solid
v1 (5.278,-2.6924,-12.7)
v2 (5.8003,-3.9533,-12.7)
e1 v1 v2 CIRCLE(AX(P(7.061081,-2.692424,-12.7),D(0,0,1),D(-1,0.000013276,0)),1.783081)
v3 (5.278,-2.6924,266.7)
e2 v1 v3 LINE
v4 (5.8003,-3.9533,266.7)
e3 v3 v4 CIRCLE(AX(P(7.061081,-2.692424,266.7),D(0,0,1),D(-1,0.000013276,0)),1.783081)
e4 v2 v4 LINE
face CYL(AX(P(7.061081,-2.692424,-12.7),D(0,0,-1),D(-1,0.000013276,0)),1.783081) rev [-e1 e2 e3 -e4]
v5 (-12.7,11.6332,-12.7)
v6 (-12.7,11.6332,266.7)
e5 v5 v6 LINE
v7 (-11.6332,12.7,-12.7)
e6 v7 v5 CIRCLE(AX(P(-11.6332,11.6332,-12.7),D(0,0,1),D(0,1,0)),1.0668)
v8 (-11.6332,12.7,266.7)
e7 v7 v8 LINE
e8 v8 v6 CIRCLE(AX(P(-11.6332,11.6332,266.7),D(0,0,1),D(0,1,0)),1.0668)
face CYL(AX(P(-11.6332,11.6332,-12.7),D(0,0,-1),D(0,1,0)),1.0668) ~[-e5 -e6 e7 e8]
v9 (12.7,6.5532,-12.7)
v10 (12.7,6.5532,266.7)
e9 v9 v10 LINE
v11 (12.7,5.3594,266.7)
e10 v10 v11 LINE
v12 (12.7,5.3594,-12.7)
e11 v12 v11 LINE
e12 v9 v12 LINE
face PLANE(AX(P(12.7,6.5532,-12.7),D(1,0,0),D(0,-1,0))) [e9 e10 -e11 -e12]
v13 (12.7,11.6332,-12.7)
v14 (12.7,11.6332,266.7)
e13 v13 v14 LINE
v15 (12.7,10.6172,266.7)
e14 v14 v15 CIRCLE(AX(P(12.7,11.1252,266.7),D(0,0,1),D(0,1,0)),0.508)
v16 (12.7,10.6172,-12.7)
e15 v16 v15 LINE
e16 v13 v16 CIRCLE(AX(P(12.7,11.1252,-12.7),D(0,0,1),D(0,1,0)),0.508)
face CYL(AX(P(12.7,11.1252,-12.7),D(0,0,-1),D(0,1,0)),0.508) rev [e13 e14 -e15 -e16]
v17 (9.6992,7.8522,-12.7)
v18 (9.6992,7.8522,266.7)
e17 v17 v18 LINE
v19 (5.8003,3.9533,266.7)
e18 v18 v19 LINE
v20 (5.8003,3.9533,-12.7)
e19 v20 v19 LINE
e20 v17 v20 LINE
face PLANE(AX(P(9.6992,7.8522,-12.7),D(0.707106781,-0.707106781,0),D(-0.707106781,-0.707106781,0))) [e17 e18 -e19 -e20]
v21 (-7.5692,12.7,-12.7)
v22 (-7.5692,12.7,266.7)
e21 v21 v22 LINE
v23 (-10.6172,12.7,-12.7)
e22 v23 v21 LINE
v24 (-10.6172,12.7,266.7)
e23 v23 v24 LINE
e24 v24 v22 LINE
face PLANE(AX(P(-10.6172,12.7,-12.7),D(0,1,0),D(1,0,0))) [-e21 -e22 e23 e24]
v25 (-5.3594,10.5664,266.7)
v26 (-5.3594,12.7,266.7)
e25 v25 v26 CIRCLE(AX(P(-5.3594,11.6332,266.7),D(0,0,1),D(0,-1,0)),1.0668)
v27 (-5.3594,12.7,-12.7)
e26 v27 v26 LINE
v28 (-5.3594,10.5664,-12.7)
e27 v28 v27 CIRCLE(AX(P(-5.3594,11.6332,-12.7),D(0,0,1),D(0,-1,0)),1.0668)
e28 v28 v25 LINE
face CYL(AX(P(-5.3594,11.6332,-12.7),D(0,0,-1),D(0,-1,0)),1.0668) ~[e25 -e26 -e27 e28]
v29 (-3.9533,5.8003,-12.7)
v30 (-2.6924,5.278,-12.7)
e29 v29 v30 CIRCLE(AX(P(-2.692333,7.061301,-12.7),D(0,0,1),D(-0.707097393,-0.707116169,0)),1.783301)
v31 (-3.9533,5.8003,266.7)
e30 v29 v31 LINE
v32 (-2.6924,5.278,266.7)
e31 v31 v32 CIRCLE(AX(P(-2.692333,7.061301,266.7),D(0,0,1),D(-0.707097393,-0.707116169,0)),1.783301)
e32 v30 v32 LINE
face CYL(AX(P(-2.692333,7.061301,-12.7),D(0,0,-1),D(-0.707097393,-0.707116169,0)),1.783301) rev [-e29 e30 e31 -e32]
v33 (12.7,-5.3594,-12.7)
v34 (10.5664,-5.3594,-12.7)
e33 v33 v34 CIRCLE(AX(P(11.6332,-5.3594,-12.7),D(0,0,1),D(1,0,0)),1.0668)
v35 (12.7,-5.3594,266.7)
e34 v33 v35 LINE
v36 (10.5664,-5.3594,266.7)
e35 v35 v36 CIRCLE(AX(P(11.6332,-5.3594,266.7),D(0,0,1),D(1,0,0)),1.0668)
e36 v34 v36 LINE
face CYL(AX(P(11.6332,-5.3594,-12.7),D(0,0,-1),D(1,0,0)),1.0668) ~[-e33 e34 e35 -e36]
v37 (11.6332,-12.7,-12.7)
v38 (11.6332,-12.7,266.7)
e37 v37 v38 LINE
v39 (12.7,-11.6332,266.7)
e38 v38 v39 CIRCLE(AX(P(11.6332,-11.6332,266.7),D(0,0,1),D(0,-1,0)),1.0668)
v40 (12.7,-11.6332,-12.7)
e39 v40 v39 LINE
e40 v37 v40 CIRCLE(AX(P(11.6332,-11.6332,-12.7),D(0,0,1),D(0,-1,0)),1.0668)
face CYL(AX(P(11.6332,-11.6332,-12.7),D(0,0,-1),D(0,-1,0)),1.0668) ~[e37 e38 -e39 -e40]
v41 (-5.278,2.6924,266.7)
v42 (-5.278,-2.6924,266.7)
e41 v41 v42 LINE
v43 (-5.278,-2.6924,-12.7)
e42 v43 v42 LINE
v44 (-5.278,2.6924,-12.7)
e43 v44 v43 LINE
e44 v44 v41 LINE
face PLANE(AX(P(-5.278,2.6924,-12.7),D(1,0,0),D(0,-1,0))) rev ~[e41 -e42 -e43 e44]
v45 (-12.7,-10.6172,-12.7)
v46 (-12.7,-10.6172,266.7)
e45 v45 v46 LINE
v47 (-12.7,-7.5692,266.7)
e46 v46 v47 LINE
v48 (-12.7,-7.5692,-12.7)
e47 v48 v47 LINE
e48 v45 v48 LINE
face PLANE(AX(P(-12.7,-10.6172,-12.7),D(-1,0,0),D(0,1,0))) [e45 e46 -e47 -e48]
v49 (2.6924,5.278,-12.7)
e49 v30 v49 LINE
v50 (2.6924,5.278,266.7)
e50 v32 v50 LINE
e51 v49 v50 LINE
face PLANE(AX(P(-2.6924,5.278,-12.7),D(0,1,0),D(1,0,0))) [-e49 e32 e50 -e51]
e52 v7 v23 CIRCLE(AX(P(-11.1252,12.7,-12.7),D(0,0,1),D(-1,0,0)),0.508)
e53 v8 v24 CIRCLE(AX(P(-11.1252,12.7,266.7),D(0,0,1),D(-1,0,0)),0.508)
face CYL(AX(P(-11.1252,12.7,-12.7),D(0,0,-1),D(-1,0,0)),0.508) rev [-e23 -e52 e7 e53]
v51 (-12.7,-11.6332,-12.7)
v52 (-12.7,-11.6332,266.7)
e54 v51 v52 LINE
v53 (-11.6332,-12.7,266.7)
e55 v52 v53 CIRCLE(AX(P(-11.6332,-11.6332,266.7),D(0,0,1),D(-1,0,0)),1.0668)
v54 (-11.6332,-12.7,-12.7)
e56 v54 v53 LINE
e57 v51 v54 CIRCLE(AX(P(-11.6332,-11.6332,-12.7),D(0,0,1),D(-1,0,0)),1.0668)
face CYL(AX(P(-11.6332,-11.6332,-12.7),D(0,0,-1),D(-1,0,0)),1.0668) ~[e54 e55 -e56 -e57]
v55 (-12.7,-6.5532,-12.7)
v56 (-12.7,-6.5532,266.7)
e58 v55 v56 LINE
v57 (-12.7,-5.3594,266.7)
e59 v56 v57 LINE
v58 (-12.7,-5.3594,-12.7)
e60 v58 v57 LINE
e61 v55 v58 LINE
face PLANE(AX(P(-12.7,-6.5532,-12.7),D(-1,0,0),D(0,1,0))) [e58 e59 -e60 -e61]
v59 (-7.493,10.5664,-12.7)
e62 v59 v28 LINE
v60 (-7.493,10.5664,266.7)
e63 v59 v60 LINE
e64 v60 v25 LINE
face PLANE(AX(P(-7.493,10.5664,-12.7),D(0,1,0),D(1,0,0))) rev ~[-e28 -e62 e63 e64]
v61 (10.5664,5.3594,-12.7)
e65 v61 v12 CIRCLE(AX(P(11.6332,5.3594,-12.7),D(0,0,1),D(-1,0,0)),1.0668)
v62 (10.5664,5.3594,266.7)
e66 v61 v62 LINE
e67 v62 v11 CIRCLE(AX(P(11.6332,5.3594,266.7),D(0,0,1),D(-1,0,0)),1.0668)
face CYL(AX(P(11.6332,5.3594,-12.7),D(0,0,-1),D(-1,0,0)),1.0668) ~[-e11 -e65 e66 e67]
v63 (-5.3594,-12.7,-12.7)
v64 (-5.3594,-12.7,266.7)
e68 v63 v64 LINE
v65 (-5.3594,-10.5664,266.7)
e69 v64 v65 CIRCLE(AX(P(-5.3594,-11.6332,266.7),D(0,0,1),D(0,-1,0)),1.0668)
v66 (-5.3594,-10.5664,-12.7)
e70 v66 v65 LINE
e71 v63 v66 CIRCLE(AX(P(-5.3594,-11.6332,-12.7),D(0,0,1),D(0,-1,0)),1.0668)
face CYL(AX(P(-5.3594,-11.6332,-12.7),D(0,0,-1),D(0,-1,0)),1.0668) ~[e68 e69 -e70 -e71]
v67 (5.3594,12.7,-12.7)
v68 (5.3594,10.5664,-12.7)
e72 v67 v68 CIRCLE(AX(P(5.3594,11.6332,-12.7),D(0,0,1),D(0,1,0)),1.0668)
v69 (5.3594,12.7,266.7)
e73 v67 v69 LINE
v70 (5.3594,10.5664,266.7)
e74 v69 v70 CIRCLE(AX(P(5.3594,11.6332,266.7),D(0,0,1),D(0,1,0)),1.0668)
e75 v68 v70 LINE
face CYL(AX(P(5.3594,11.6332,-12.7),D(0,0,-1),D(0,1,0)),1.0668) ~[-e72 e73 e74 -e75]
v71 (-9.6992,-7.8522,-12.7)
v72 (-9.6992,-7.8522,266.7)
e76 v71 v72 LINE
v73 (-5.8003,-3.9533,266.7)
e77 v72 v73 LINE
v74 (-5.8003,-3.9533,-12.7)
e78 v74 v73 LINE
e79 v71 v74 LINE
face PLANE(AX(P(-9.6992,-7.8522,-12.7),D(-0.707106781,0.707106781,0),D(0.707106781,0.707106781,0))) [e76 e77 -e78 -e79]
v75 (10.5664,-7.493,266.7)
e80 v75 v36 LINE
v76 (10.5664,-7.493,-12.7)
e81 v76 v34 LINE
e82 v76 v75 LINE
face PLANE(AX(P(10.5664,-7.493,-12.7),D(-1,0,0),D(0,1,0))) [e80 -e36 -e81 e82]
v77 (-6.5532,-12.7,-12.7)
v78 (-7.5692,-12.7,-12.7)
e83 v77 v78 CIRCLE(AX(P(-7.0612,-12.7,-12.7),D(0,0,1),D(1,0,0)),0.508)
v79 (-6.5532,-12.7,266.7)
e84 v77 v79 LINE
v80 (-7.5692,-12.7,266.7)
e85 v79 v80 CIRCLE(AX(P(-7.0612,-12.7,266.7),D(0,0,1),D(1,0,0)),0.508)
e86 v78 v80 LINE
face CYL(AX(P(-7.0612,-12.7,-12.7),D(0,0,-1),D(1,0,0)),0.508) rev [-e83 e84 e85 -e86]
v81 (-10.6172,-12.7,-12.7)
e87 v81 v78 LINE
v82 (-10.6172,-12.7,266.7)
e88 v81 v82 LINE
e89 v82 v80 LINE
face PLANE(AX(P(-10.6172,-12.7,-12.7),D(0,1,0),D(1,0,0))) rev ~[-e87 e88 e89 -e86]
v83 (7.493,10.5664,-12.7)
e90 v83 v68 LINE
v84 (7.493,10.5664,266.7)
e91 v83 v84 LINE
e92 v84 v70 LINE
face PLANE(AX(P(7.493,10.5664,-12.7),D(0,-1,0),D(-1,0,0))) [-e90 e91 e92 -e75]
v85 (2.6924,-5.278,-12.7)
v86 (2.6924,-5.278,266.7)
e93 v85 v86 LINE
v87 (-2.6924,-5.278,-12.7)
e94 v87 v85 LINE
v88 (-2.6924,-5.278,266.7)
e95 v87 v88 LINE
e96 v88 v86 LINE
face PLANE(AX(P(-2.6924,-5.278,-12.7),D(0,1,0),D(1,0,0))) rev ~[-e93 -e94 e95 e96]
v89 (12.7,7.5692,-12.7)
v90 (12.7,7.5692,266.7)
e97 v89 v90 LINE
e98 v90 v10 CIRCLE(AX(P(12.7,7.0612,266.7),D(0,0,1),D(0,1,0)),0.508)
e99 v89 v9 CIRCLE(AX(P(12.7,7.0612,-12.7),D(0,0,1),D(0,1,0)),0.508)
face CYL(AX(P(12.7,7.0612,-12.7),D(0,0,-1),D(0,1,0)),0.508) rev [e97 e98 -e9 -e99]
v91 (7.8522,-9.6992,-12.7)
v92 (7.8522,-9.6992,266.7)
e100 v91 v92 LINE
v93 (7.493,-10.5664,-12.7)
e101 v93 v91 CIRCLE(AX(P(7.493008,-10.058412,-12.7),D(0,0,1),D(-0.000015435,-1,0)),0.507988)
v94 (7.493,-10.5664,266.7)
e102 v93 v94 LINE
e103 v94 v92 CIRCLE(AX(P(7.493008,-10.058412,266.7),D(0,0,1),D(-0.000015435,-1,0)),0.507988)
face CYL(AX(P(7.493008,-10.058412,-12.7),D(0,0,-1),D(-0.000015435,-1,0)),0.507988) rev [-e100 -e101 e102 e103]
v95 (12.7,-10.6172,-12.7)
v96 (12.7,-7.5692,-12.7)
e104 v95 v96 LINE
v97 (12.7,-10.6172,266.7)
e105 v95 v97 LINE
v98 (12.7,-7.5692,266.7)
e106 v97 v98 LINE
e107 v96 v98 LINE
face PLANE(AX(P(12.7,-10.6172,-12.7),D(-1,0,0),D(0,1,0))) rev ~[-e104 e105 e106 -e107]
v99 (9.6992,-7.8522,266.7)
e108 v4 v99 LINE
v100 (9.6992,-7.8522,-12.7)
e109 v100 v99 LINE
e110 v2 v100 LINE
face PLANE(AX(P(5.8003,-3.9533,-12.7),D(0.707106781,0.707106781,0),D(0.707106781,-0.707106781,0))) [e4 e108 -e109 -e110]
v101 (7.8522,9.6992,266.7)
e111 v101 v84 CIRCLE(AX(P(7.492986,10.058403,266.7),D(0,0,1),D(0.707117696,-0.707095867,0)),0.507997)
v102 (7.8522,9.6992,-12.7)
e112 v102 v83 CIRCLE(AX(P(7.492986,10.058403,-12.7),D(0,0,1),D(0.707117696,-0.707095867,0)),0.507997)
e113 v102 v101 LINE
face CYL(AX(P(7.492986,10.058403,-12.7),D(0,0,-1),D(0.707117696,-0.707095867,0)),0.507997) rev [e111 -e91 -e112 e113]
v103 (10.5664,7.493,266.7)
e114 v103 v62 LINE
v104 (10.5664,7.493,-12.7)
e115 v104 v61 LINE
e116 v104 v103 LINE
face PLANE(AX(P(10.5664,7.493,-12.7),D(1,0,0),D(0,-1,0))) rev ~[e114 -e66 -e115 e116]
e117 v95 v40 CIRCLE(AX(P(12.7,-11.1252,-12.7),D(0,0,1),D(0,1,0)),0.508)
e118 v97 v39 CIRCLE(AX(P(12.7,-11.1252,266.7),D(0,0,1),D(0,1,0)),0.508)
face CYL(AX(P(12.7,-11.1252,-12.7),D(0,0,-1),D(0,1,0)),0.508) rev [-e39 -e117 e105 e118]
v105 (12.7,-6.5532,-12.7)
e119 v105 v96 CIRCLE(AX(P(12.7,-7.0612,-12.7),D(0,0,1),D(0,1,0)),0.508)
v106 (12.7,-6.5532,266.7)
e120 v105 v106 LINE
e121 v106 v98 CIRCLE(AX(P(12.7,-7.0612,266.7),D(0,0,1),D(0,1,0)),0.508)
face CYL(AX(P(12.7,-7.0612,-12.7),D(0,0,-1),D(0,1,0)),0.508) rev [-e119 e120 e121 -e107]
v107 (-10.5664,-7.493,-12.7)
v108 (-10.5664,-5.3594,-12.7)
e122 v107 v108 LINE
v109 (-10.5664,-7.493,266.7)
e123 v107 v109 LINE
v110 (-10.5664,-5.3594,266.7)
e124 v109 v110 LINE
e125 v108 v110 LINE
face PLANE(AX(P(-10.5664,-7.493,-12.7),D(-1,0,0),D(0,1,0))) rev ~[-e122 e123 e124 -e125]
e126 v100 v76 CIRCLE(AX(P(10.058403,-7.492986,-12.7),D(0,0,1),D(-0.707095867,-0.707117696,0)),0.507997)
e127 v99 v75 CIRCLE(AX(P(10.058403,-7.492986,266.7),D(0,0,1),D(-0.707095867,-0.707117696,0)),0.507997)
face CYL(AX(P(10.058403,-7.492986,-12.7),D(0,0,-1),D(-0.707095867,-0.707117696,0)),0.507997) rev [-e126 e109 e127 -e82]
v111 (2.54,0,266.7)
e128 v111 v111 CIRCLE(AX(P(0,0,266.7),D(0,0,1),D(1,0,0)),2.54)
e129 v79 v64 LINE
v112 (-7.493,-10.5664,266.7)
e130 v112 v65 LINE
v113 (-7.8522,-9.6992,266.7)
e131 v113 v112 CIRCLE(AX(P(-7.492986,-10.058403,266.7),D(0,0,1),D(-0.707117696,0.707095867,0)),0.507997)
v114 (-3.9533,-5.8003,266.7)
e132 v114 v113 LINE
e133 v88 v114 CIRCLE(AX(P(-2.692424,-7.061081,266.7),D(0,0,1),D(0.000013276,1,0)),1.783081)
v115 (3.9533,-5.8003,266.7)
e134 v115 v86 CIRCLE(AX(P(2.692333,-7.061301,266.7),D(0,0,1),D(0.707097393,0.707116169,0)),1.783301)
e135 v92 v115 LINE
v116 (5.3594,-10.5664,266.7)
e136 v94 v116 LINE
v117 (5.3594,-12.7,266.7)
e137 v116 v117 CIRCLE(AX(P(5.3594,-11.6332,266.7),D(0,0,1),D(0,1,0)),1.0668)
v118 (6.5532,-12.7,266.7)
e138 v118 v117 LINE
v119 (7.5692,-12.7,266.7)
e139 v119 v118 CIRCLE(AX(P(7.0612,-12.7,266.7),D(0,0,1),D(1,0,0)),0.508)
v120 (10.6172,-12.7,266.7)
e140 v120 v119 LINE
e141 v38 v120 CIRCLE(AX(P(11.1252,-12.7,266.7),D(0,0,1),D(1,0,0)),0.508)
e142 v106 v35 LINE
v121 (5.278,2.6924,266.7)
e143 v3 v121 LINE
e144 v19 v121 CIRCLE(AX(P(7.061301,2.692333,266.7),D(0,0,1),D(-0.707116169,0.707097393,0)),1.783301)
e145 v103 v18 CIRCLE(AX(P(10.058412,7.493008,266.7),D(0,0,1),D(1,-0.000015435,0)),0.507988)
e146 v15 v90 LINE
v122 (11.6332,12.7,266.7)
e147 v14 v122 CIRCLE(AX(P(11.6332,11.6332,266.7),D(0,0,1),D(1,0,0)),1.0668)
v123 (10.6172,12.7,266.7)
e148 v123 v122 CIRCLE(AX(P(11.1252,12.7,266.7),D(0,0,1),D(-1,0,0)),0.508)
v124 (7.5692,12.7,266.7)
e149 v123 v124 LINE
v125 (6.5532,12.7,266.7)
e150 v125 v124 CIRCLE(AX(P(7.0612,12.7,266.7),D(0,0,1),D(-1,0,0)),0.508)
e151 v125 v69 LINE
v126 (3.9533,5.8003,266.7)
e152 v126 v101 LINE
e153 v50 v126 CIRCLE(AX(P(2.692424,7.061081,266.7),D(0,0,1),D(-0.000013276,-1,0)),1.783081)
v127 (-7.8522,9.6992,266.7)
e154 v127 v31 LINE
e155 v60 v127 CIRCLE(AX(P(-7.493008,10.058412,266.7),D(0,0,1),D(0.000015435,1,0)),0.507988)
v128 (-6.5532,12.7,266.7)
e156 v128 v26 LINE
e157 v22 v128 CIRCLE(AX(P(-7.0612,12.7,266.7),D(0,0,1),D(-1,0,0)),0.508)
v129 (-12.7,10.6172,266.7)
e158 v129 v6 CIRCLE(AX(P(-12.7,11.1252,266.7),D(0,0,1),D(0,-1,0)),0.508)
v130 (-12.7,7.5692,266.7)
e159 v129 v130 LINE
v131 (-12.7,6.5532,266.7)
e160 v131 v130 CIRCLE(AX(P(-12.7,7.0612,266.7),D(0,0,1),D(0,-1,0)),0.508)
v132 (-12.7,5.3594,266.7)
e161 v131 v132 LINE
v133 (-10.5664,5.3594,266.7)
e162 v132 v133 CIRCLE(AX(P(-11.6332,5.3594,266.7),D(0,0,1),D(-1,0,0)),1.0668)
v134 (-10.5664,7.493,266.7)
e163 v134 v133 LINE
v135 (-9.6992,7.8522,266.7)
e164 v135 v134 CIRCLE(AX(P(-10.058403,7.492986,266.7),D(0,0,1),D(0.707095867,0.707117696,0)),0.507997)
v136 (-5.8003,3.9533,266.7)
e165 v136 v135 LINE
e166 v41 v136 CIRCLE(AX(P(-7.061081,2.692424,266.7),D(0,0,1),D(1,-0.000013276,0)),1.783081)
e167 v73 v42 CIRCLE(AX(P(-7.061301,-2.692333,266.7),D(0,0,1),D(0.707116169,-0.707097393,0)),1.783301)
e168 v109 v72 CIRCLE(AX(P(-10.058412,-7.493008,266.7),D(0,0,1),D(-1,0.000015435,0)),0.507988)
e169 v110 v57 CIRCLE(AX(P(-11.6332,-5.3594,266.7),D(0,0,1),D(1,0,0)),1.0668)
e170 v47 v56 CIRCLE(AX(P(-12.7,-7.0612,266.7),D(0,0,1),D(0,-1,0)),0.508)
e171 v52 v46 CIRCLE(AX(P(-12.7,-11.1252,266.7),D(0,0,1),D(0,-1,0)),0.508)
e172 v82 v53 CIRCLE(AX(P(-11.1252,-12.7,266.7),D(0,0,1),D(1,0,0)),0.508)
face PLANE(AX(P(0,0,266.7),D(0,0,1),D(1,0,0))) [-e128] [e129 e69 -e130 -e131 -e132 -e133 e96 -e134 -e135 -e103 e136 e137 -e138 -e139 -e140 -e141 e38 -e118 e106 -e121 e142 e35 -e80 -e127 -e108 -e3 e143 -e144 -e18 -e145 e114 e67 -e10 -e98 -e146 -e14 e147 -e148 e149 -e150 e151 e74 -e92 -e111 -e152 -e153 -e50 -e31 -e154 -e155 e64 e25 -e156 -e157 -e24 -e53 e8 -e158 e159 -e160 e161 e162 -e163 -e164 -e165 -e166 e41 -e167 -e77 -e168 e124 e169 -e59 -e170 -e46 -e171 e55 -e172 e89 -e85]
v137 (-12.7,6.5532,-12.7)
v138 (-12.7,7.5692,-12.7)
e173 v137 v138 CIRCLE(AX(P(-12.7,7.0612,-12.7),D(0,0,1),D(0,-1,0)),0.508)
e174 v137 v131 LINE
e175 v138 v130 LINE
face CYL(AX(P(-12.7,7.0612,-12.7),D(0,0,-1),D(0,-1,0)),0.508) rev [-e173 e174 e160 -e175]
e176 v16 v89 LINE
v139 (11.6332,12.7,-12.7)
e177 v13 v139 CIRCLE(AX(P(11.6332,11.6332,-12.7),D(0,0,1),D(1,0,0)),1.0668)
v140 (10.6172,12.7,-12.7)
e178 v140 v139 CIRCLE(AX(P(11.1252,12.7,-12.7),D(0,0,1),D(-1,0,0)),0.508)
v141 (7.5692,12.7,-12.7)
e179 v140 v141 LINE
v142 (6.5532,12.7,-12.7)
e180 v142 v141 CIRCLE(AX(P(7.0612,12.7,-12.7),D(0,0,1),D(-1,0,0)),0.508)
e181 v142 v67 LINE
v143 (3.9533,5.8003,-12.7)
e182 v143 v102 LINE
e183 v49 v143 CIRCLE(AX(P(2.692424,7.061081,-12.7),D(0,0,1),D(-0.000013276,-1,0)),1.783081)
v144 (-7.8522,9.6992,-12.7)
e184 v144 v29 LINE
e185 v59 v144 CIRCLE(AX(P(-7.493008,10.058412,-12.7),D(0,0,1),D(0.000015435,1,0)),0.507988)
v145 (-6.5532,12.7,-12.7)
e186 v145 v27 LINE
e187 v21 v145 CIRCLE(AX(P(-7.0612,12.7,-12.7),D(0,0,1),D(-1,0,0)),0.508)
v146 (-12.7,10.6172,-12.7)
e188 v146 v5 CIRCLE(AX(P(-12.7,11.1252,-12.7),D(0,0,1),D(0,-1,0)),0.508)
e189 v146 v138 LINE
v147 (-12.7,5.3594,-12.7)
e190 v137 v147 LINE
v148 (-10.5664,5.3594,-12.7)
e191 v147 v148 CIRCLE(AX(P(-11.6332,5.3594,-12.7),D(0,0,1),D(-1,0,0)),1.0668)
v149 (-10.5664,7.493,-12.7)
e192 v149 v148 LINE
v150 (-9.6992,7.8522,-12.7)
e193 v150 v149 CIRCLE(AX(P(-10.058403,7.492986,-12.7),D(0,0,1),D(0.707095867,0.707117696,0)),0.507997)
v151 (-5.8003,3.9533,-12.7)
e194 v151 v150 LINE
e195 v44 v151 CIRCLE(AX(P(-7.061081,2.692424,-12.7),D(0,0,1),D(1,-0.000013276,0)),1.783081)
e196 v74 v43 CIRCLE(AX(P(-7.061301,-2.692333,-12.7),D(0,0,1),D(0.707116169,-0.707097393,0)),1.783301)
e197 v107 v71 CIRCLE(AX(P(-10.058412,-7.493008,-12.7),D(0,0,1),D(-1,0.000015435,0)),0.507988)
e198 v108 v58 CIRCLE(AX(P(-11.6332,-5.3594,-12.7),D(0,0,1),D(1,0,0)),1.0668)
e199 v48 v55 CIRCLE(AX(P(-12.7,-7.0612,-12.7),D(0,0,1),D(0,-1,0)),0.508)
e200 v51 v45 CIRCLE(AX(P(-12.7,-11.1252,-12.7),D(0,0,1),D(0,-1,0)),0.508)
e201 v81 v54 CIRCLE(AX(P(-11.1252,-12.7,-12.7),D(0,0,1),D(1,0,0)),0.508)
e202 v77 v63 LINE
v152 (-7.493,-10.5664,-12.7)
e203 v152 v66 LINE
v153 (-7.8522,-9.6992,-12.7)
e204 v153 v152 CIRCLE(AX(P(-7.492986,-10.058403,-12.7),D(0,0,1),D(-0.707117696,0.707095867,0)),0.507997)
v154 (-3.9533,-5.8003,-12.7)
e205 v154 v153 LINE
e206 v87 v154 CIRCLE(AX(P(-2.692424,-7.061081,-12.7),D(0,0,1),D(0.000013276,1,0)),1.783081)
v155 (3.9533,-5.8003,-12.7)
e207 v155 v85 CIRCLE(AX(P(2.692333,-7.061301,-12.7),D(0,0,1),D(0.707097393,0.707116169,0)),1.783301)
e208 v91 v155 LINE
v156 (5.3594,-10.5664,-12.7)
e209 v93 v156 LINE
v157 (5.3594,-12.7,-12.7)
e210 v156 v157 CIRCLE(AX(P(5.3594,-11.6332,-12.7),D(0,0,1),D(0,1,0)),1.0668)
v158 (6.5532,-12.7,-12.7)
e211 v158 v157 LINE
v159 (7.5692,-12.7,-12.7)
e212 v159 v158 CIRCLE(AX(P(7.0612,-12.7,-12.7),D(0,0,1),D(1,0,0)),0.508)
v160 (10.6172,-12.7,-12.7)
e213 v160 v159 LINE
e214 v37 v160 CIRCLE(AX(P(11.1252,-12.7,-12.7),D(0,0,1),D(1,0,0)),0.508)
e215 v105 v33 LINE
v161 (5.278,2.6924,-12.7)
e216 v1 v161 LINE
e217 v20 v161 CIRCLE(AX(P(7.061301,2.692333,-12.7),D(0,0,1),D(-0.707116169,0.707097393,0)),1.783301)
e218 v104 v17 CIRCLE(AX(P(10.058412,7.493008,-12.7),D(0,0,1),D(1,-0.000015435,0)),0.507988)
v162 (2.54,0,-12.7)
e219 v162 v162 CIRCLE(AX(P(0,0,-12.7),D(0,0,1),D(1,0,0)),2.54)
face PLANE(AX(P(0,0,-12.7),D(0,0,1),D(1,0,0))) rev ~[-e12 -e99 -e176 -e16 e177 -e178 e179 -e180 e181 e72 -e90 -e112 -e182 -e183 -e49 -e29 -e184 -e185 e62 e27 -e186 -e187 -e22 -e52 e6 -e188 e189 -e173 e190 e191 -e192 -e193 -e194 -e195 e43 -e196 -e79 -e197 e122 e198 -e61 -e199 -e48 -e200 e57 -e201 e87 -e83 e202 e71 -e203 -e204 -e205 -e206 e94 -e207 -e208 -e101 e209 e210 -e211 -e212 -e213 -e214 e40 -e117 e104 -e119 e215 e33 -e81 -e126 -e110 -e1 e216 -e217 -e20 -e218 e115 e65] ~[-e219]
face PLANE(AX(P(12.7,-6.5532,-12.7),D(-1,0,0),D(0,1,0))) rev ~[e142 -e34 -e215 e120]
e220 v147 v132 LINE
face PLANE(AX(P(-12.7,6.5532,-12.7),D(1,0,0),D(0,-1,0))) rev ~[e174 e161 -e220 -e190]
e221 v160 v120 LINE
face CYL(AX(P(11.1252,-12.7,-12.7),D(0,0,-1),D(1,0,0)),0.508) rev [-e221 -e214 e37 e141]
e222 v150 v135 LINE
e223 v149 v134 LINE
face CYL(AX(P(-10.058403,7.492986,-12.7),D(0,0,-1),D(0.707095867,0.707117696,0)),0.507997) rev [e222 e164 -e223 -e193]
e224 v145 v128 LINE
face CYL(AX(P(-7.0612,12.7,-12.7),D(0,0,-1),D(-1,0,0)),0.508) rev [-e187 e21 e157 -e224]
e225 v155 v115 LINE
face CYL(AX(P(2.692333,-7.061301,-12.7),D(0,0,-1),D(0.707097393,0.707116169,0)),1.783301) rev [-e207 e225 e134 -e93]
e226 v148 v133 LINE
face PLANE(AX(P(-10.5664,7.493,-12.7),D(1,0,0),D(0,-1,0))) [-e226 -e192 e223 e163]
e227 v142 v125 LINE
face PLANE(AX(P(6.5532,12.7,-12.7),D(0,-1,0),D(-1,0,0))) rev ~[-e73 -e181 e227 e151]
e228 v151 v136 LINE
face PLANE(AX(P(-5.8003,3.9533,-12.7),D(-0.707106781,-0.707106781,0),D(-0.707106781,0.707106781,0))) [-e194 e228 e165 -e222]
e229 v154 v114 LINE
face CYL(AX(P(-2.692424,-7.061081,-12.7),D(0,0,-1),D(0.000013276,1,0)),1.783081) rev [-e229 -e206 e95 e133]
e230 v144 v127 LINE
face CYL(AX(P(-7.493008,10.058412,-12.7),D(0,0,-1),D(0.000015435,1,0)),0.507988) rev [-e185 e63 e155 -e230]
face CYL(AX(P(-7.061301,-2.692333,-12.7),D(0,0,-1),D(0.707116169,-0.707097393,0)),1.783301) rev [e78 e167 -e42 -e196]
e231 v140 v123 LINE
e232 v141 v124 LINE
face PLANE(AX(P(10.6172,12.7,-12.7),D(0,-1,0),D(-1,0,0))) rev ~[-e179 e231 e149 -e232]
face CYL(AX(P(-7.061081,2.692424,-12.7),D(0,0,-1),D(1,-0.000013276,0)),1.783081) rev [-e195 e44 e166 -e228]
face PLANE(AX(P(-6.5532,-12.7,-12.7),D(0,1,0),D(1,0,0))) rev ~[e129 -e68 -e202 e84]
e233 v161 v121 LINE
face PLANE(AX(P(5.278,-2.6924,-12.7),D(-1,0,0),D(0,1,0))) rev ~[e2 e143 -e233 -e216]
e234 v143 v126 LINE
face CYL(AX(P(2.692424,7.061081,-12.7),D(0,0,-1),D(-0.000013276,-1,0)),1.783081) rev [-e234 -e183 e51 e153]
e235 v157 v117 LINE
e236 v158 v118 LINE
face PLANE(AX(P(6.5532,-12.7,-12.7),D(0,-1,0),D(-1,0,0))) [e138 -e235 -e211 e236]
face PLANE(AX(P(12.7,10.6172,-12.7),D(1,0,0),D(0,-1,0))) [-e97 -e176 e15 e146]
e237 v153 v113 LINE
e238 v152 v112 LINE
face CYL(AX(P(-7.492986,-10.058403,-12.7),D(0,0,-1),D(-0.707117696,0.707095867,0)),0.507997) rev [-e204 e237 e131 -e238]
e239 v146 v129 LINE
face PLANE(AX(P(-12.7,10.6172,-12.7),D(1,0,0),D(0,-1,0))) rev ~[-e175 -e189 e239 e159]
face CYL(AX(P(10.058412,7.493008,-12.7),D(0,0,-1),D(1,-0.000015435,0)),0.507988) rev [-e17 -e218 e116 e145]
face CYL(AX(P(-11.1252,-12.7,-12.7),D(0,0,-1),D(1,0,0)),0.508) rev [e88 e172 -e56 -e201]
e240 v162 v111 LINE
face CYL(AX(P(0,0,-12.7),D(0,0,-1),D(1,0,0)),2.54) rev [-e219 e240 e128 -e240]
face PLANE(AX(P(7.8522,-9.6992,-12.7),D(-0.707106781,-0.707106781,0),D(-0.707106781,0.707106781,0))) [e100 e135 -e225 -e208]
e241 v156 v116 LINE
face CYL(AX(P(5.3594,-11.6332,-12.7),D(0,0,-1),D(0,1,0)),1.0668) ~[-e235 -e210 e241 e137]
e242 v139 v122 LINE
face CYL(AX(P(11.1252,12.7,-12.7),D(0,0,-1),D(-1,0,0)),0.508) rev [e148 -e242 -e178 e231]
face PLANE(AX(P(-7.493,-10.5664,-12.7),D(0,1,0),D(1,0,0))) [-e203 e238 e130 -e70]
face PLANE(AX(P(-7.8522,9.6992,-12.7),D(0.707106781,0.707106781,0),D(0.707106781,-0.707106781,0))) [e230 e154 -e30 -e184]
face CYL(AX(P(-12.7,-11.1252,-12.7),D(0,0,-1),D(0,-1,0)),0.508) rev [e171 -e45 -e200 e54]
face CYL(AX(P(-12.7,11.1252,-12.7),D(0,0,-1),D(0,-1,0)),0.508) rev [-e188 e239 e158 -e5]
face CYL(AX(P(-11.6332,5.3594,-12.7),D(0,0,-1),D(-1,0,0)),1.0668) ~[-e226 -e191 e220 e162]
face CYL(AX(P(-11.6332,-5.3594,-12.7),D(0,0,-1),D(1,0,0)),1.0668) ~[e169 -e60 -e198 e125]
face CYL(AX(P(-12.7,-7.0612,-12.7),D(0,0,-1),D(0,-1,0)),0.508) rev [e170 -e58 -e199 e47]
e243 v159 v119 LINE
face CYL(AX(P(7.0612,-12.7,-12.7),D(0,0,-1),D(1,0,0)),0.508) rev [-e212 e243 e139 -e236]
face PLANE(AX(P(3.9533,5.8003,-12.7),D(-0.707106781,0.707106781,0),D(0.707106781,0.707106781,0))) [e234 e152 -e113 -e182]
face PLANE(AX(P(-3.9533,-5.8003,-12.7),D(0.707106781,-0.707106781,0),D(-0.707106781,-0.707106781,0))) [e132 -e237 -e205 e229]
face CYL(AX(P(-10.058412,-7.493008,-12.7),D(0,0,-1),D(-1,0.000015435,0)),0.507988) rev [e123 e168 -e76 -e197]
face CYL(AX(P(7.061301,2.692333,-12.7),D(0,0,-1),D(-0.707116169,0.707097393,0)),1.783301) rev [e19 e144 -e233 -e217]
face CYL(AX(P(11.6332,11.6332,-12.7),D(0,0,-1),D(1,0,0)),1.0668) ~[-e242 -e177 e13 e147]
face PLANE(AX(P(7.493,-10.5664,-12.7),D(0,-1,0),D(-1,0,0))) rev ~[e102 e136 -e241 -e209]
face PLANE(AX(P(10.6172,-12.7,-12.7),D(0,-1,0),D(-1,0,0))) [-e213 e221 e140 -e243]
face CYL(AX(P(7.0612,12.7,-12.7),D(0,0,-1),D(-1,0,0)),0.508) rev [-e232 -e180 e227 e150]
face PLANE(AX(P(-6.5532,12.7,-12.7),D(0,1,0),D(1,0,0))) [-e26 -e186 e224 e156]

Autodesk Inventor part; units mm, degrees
ref_plane "Start Plane" through (0, 0, -12.7) normal (0, 0, 1) x (1, 0, 0)
ref_plane "End Plane" through (0, 0, 266.7) normal (0, 0, 1) x (1, 0, 0)
sketch "Sketch" plane through (0, 0, 0) normal (0, 0, 1) x (1, 0, 0)
  arc A0 (-11.6332, 12.7) -> (-12.7, 11.6332) centre (-11.6332, 11.6332) ccw
  arc A1 (-5.3594, 10.5664) -> (-5.3594, 12.7) centre (-5.3594, 11.6332) ccw
  arc A2 (-12.7, 5.3594) -> (-10.5664, 5.3594) centre (-11.6332, 5.3594) ccw
  line L0 (-10.5664, 7.493) -> (-10.5664, 5.3594)
  line L1 (-7.493, 10.5664) -> (-5.3594, 10.5664)
  arc A3 (-9.6992, 7.8522) -> (-10.5664, 7.493) centre (-10.0584, 7.493) ccw
  arc A4 (-7.493, 10.5664) -> (-7.8522, 9.6992) centre (-7.493, 10.0584) ccw
  line L2 (-11.6332, 11.6332) -> (0, 0) construction
  line L3 (-5.8003, 3.9533) -> (-9.6992, 7.8522)
  line L4 (-7.8522, 9.6992) -> (-3.9533, 5.8003)
  arc A5 (-3.9533, 5.8003) -> (-2.6924, 5.278) centre (-2.6924, 7.0612) ccw
  arc A6 (-5.278, 2.6924) -> (-5.8003, 3.9533) centre (-7.0612, 2.6924) ccw
  arc A7 (0, 2.54) -> (-2.54, 0) centre (0, 0) ccw construction
  line L5 (0, 0) -> (-12.7, 0) construction
  line L6 (0, 12.7) -> (0, 0) construction
  arc A8 (-11.6332, 12.7) -> (-10.6172, 12.7) centre (-11.1252, 12.7) ccw
  arc A9 (-7.5692, 12.7) -> (-6.5532, 12.7) centre (-7.0612, 12.7) ccw
  arc A10 (-12.7, 10.6172) -> (-12.7, 11.6332) centre (-12.7, 11.1252) ccw
  arc A11 (-12.7, 6.5532) -> (-12.7, 7.5692) centre (-12.7, 7.0612) ccw
  line L7 (-12.7, 10.6172) -> (-12.7, 7.5692)
  line L8 (-12.7, 6.5532) -> (-12.7, 5.3594)
  line L9 (-10.6172, 12.7) -> (-7.5692, 12.7)
  line L10 (-6.5532, 12.7) -> (-5.3594, 12.7)
  circle A12 centre (0, 0) radius 2.54
  arc A13 (-12.7, -11.6332) -> (-11.6332, -12.7) centre (-11.6332, -11.6332) ccw
  line L11 (-12.7, -10.6172) -> (-12.7, -7.5692)
  arc A14 (-10.5664, -7.493) -> (-9.6992, -7.8522) centre (-10.0584, -7.493) ccw
  line L12 (-9.6992, -7.8522) -> (-5.8003, -3.9533)
  line L13 (-11.6332, -11.6332) -> (0, 0) construction
  line L14 (-3.9533, -5.8003) -> (-7.8522, -9.6992)
  arc A15 (-7.8522, -9.6992) -> (-7.493, -10.5664) centre (-7.493, -10.0584) ccw
  line L15 (-10.6172, -12.7) -> (-7.5692, -12.7)
  line L16 (-7.493, -10.5664) -> (-5.3594, -10.5664)
  arc A16 (-6.5532, -12.7) -> (-7.5692, -12.7) centre (-7.0612, -12.7) ccw
  line L17 (-6.5532, -12.7) -> (-5.3594, -12.7)
  arc A17 (-5.3594, -12.7) -> (-5.3594, -10.5664) centre (-5.3594, -11.6332) ccw
  arc A18 (-10.6172, -12.7) -> (-11.6332, -12.7) centre (-11.1252, -12.7) ccw
  arc A19 (-12.7, -11.6332) -> (-12.7, -10.6172) centre (-12.7, -11.1252) ccw
  arc A20 (-2.6924, -5.278) -> (-3.9533, -5.8003) centre (-2.6924, -7.0612) ccw
  arc A21 (-5.8003, -3.9533) -> (-5.278, -2.6924) centre (-7.0612, -2.6924) ccw
  line L18 (-10.5664, -7.493) -> (-10.5664, -5.3594)
  line L19 (-12.7, -6.5532) -> (-12.7, -5.3594)
  arc A22 (-10.5664, -5.3594) -> (-12.7, -5.3594) centre (-11.6332, -5.3594) ccw
  arc A23 (-12.7, -7.5692) -> (-12.7, -6.5532) centre (-12.7, -7.0612) ccw
  arc A24 (11.6332, -12.7) -> (12.7, -11.6332) centre (11.6332, -11.6332) ccw
  line L20 (10.6172, -12.7) -> (7.5692, -12.7)
  arc A25 (7.493, -10.5664) -> (7.8522, -9.6992) centre (7.493, -10.0584) ccw
  line L21 (7.8522, -9.6992) -> (3.9533, -5.8003)
  line L22 (11.6332, -11.6332) -> (0, 0) construction
  line L23 (5.8003, -3.9533) -> (9.6992, -7.8522)
  arc A26 (9.6992, -7.8522) -> (10.5664, -7.493) centre (10.0584, -7.493) ccw
  line L24 (12.7, -10.6172) -> (12.7, -7.5692)
  line L25 (10.5664, -7.493) -> (10.5664, -5.3594)
  arc A27 (12.7, -6.5532) -> (12.7, -7.5692) centre (12.7, -7.0612) ccw
  line L26 (12.7, -6.5532) -> (12.7, -5.3594)
  arc A28 (12.7, -5.3594) -> (10.5664, -5.3594) centre (11.6332, -5.3594) ccw
  arc A29 (12.7, -10.6172) -> (12.7, -11.6332) centre (12.7, -11.1252) ccw
  arc A30 (11.6332, -12.7) -> (10.6172, -12.7) centre (11.1252, -12.7) ccw
  arc A31 (5.278, -2.6924) -> (5.8003, -3.9533) centre (7.0612, -2.6924) ccw
  arc A32 (3.9533, -5.8003) -> (2.6924, -5.278) centre (2.6924, -7.0612) ccw
  line L27 (7.493, -10.5664) -> (5.3594, -10.5664)
  line L28 (6.5532, -12.7) -> (5.3594, -12.7)
  arc A33 (5.3594, -10.5664) -> (5.3594, -12.7) centre (5.3594, -11.6332) ccw
  arc A34 (7.5692, -12.7) -> (6.5532, -12.7) centre (7.0612, -12.7) ccw
  arc A35 (12.7, 11.6332) -> (11.6332, 12.7) centre (11.6332, 11.6332) ccw
  line L29 (12.7, 10.6172) -> (12.7, 7.5692)
  arc A36 (10.5664, 7.493) -> (9.6992, 7.8522) centre (10.0584, 7.493) ccw
  line L30 (9.6992, 7.8522) -> (5.8003, 3.9533)
  line L31 (11.6332, 11.6332) -> (0, 0) construction
  line L32 (3.9533, 5.8003) -> (7.8522, 9.6992)
  arc A37 (7.8522, 9.6992) -> (7.493, 10.5664) centre (7.493, 10.0584) ccw
  line L33 (10.6172, 12.7) -> (7.5692, 12.7)
  line L34 (7.493, 10.5664) -> (5.3594, 10.5664)
  arc A38 (6.5532, 12.7) -> (7.5692, 12.7) centre (7.0612, 12.7) ccw
  line L35 (6.5532, 12.7) -> (5.3594, 12.7)
  arc A39 (5.3594, 12.7) -> (5.3594, 10.5664) centre (5.3594, 11.6332) ccw
  arc A40 (10.6172, 12.7) -> (11.6332, 12.7) centre (11.1252, 12.7) ccw
  arc A41 (12.7, 11.6332) -> (12.7, 10.6172) centre (12.7, 11.1252) ccw
  arc A42 (2.6924, 5.278) -> (3.9533, 5.8003) centre (2.6924, 7.0612) ccw
  arc A43 (5.8003, 3.9533) -> (5.278, 2.6924) centre (7.0612, 2.6924) ccw
  line L36 (10.5664, 7.493) -> (10.5664, 5.3594)
  line L37 (12.7, 6.5532) -> (12.7, 5.3594)
  arc A44 (10.5664, 5.3594) -> (12.7, 5.3594) centre (11.6332, 5.3594) ccw
  arc A45 (12.7, 7.5692) -> (12.7, 6.5532) centre (12.7, 7.0612) ccw
  line L38 (-2.6924, 5.278) -> (2.6924, 5.278)
  line L39 (-5.278, 2.6924) -> (-5.278, -2.6924)
  line L40 (-2.6924, -5.278) -> (2.6924, -5.278)
  line L41 (5.278, -2.6924) -> (5.278, 2.6924)
  point P0 (0, 0)
  point P1 (0, 0)
  dimension "d2" = 2.1336
  dimension "d3" = 6.2738
  dimension "d4" = 6.2738
  dimension "d5" = 1.0668
  dimension "d6" = 2.1336
  dimension "d7" = 2.1336
  dimension "d8" = 1.016
  dimension "d9" = 1.016
  dimension "d10" = 135
  dimension "d11" = 2.667
  dimension "d12" = 4.572
  dimension "d13" = 4.572
  dimension "d14" = 2.667
  dimension "d15" = 5.08
  dimension "d16" = 45
  dimension "d19" = 45
  dimension "d20" = 0.508
  dimension "d21" = 4.572
  dimension "d22" = 1.016
  dimension "d23" = 4.572
  dimension "d24" = 1.016
  dimension "d25" = 0.508
  dimension "d26" = 0.508
  dimension "d27" = 0.508
  dimension "d28" = 12.7
  dimension "d37" = 360
  dimension "d47" = 10.5664
  dimension "d48" = 12.7
extrude "Body" add sketch "Sketch" along normal up to surface (279.4 mm away) from surface at -12.7
sketch "Sketch2" plane through (0, 0, 0) normal (0, 0, 1) x (1, 0, 0)
  line L0 (0, 0) -> (10, 0)
ref_plane "Work Plane3" through (0, 0, 0) normal (0, -1, 0) x (1, 0, 0)
sketch "Sketch3" plane through (0, 0, 0) normal (0, -1, 0) x (1, 0, 0)
  line L0 (-2, -12.7) -> (12, -12.7)
  line L1 (-2, 266.7) -> (12, 266.7)
  dimension "d60" = 279.4
ref_plane "Work Plane4" through (10.6172, 0, 266.7) normal (0, 0, 1) x (1, 0, 0)
split "Split1" plane through (10.6172, 0, 266.7) removes the side toward (0, 0, 1)
ref_plane "Work Plane5" through (0, -7.5692, -12.7) normal (0, 0, -1) x (-1, 0, 0)
split "Split2" plane through (0, -7.5692, -12.7) removes the side toward (0, 0, -1)
ref_plane "Work Plane6" through (-10.6172, -279.4, -12.7) normal (0, 0, -1) x (-1, 0, 0)
split "Split3" plane through (-10.6172, -279.4, -12.7) removes the side toward (0, 0, -1)
equation "\"d3\" = d4"
equation "\"d6\" = d7"
equation "\"d11\" = d14"
equation "\"d12\" = d13"
equation "\"d23\" = d21"
equation "\"d24\" = d30"
equation "\"d26\" = 0.5 * d24"
equation "\"d27\" = 0.5 * d22"
equation "\"Width\" = 2 * d28"
equation "\"Height\" = 2 * d48"
equation "\"G_OFFSET_START\" = 12.7"
equation "\"G_OFFSET_END\" = -12.7"
equation "\"d55\" = -G_OFFSET_START"
equation "\"d56\" = Length + G_OFFSET_END"
equation "\"G_L\" = 279.4"
equation "\"d30\" = 1.016"
equation "\"Length\" = 279.4"
properties part number "1010_80_20" material "Aluminum-6061"
